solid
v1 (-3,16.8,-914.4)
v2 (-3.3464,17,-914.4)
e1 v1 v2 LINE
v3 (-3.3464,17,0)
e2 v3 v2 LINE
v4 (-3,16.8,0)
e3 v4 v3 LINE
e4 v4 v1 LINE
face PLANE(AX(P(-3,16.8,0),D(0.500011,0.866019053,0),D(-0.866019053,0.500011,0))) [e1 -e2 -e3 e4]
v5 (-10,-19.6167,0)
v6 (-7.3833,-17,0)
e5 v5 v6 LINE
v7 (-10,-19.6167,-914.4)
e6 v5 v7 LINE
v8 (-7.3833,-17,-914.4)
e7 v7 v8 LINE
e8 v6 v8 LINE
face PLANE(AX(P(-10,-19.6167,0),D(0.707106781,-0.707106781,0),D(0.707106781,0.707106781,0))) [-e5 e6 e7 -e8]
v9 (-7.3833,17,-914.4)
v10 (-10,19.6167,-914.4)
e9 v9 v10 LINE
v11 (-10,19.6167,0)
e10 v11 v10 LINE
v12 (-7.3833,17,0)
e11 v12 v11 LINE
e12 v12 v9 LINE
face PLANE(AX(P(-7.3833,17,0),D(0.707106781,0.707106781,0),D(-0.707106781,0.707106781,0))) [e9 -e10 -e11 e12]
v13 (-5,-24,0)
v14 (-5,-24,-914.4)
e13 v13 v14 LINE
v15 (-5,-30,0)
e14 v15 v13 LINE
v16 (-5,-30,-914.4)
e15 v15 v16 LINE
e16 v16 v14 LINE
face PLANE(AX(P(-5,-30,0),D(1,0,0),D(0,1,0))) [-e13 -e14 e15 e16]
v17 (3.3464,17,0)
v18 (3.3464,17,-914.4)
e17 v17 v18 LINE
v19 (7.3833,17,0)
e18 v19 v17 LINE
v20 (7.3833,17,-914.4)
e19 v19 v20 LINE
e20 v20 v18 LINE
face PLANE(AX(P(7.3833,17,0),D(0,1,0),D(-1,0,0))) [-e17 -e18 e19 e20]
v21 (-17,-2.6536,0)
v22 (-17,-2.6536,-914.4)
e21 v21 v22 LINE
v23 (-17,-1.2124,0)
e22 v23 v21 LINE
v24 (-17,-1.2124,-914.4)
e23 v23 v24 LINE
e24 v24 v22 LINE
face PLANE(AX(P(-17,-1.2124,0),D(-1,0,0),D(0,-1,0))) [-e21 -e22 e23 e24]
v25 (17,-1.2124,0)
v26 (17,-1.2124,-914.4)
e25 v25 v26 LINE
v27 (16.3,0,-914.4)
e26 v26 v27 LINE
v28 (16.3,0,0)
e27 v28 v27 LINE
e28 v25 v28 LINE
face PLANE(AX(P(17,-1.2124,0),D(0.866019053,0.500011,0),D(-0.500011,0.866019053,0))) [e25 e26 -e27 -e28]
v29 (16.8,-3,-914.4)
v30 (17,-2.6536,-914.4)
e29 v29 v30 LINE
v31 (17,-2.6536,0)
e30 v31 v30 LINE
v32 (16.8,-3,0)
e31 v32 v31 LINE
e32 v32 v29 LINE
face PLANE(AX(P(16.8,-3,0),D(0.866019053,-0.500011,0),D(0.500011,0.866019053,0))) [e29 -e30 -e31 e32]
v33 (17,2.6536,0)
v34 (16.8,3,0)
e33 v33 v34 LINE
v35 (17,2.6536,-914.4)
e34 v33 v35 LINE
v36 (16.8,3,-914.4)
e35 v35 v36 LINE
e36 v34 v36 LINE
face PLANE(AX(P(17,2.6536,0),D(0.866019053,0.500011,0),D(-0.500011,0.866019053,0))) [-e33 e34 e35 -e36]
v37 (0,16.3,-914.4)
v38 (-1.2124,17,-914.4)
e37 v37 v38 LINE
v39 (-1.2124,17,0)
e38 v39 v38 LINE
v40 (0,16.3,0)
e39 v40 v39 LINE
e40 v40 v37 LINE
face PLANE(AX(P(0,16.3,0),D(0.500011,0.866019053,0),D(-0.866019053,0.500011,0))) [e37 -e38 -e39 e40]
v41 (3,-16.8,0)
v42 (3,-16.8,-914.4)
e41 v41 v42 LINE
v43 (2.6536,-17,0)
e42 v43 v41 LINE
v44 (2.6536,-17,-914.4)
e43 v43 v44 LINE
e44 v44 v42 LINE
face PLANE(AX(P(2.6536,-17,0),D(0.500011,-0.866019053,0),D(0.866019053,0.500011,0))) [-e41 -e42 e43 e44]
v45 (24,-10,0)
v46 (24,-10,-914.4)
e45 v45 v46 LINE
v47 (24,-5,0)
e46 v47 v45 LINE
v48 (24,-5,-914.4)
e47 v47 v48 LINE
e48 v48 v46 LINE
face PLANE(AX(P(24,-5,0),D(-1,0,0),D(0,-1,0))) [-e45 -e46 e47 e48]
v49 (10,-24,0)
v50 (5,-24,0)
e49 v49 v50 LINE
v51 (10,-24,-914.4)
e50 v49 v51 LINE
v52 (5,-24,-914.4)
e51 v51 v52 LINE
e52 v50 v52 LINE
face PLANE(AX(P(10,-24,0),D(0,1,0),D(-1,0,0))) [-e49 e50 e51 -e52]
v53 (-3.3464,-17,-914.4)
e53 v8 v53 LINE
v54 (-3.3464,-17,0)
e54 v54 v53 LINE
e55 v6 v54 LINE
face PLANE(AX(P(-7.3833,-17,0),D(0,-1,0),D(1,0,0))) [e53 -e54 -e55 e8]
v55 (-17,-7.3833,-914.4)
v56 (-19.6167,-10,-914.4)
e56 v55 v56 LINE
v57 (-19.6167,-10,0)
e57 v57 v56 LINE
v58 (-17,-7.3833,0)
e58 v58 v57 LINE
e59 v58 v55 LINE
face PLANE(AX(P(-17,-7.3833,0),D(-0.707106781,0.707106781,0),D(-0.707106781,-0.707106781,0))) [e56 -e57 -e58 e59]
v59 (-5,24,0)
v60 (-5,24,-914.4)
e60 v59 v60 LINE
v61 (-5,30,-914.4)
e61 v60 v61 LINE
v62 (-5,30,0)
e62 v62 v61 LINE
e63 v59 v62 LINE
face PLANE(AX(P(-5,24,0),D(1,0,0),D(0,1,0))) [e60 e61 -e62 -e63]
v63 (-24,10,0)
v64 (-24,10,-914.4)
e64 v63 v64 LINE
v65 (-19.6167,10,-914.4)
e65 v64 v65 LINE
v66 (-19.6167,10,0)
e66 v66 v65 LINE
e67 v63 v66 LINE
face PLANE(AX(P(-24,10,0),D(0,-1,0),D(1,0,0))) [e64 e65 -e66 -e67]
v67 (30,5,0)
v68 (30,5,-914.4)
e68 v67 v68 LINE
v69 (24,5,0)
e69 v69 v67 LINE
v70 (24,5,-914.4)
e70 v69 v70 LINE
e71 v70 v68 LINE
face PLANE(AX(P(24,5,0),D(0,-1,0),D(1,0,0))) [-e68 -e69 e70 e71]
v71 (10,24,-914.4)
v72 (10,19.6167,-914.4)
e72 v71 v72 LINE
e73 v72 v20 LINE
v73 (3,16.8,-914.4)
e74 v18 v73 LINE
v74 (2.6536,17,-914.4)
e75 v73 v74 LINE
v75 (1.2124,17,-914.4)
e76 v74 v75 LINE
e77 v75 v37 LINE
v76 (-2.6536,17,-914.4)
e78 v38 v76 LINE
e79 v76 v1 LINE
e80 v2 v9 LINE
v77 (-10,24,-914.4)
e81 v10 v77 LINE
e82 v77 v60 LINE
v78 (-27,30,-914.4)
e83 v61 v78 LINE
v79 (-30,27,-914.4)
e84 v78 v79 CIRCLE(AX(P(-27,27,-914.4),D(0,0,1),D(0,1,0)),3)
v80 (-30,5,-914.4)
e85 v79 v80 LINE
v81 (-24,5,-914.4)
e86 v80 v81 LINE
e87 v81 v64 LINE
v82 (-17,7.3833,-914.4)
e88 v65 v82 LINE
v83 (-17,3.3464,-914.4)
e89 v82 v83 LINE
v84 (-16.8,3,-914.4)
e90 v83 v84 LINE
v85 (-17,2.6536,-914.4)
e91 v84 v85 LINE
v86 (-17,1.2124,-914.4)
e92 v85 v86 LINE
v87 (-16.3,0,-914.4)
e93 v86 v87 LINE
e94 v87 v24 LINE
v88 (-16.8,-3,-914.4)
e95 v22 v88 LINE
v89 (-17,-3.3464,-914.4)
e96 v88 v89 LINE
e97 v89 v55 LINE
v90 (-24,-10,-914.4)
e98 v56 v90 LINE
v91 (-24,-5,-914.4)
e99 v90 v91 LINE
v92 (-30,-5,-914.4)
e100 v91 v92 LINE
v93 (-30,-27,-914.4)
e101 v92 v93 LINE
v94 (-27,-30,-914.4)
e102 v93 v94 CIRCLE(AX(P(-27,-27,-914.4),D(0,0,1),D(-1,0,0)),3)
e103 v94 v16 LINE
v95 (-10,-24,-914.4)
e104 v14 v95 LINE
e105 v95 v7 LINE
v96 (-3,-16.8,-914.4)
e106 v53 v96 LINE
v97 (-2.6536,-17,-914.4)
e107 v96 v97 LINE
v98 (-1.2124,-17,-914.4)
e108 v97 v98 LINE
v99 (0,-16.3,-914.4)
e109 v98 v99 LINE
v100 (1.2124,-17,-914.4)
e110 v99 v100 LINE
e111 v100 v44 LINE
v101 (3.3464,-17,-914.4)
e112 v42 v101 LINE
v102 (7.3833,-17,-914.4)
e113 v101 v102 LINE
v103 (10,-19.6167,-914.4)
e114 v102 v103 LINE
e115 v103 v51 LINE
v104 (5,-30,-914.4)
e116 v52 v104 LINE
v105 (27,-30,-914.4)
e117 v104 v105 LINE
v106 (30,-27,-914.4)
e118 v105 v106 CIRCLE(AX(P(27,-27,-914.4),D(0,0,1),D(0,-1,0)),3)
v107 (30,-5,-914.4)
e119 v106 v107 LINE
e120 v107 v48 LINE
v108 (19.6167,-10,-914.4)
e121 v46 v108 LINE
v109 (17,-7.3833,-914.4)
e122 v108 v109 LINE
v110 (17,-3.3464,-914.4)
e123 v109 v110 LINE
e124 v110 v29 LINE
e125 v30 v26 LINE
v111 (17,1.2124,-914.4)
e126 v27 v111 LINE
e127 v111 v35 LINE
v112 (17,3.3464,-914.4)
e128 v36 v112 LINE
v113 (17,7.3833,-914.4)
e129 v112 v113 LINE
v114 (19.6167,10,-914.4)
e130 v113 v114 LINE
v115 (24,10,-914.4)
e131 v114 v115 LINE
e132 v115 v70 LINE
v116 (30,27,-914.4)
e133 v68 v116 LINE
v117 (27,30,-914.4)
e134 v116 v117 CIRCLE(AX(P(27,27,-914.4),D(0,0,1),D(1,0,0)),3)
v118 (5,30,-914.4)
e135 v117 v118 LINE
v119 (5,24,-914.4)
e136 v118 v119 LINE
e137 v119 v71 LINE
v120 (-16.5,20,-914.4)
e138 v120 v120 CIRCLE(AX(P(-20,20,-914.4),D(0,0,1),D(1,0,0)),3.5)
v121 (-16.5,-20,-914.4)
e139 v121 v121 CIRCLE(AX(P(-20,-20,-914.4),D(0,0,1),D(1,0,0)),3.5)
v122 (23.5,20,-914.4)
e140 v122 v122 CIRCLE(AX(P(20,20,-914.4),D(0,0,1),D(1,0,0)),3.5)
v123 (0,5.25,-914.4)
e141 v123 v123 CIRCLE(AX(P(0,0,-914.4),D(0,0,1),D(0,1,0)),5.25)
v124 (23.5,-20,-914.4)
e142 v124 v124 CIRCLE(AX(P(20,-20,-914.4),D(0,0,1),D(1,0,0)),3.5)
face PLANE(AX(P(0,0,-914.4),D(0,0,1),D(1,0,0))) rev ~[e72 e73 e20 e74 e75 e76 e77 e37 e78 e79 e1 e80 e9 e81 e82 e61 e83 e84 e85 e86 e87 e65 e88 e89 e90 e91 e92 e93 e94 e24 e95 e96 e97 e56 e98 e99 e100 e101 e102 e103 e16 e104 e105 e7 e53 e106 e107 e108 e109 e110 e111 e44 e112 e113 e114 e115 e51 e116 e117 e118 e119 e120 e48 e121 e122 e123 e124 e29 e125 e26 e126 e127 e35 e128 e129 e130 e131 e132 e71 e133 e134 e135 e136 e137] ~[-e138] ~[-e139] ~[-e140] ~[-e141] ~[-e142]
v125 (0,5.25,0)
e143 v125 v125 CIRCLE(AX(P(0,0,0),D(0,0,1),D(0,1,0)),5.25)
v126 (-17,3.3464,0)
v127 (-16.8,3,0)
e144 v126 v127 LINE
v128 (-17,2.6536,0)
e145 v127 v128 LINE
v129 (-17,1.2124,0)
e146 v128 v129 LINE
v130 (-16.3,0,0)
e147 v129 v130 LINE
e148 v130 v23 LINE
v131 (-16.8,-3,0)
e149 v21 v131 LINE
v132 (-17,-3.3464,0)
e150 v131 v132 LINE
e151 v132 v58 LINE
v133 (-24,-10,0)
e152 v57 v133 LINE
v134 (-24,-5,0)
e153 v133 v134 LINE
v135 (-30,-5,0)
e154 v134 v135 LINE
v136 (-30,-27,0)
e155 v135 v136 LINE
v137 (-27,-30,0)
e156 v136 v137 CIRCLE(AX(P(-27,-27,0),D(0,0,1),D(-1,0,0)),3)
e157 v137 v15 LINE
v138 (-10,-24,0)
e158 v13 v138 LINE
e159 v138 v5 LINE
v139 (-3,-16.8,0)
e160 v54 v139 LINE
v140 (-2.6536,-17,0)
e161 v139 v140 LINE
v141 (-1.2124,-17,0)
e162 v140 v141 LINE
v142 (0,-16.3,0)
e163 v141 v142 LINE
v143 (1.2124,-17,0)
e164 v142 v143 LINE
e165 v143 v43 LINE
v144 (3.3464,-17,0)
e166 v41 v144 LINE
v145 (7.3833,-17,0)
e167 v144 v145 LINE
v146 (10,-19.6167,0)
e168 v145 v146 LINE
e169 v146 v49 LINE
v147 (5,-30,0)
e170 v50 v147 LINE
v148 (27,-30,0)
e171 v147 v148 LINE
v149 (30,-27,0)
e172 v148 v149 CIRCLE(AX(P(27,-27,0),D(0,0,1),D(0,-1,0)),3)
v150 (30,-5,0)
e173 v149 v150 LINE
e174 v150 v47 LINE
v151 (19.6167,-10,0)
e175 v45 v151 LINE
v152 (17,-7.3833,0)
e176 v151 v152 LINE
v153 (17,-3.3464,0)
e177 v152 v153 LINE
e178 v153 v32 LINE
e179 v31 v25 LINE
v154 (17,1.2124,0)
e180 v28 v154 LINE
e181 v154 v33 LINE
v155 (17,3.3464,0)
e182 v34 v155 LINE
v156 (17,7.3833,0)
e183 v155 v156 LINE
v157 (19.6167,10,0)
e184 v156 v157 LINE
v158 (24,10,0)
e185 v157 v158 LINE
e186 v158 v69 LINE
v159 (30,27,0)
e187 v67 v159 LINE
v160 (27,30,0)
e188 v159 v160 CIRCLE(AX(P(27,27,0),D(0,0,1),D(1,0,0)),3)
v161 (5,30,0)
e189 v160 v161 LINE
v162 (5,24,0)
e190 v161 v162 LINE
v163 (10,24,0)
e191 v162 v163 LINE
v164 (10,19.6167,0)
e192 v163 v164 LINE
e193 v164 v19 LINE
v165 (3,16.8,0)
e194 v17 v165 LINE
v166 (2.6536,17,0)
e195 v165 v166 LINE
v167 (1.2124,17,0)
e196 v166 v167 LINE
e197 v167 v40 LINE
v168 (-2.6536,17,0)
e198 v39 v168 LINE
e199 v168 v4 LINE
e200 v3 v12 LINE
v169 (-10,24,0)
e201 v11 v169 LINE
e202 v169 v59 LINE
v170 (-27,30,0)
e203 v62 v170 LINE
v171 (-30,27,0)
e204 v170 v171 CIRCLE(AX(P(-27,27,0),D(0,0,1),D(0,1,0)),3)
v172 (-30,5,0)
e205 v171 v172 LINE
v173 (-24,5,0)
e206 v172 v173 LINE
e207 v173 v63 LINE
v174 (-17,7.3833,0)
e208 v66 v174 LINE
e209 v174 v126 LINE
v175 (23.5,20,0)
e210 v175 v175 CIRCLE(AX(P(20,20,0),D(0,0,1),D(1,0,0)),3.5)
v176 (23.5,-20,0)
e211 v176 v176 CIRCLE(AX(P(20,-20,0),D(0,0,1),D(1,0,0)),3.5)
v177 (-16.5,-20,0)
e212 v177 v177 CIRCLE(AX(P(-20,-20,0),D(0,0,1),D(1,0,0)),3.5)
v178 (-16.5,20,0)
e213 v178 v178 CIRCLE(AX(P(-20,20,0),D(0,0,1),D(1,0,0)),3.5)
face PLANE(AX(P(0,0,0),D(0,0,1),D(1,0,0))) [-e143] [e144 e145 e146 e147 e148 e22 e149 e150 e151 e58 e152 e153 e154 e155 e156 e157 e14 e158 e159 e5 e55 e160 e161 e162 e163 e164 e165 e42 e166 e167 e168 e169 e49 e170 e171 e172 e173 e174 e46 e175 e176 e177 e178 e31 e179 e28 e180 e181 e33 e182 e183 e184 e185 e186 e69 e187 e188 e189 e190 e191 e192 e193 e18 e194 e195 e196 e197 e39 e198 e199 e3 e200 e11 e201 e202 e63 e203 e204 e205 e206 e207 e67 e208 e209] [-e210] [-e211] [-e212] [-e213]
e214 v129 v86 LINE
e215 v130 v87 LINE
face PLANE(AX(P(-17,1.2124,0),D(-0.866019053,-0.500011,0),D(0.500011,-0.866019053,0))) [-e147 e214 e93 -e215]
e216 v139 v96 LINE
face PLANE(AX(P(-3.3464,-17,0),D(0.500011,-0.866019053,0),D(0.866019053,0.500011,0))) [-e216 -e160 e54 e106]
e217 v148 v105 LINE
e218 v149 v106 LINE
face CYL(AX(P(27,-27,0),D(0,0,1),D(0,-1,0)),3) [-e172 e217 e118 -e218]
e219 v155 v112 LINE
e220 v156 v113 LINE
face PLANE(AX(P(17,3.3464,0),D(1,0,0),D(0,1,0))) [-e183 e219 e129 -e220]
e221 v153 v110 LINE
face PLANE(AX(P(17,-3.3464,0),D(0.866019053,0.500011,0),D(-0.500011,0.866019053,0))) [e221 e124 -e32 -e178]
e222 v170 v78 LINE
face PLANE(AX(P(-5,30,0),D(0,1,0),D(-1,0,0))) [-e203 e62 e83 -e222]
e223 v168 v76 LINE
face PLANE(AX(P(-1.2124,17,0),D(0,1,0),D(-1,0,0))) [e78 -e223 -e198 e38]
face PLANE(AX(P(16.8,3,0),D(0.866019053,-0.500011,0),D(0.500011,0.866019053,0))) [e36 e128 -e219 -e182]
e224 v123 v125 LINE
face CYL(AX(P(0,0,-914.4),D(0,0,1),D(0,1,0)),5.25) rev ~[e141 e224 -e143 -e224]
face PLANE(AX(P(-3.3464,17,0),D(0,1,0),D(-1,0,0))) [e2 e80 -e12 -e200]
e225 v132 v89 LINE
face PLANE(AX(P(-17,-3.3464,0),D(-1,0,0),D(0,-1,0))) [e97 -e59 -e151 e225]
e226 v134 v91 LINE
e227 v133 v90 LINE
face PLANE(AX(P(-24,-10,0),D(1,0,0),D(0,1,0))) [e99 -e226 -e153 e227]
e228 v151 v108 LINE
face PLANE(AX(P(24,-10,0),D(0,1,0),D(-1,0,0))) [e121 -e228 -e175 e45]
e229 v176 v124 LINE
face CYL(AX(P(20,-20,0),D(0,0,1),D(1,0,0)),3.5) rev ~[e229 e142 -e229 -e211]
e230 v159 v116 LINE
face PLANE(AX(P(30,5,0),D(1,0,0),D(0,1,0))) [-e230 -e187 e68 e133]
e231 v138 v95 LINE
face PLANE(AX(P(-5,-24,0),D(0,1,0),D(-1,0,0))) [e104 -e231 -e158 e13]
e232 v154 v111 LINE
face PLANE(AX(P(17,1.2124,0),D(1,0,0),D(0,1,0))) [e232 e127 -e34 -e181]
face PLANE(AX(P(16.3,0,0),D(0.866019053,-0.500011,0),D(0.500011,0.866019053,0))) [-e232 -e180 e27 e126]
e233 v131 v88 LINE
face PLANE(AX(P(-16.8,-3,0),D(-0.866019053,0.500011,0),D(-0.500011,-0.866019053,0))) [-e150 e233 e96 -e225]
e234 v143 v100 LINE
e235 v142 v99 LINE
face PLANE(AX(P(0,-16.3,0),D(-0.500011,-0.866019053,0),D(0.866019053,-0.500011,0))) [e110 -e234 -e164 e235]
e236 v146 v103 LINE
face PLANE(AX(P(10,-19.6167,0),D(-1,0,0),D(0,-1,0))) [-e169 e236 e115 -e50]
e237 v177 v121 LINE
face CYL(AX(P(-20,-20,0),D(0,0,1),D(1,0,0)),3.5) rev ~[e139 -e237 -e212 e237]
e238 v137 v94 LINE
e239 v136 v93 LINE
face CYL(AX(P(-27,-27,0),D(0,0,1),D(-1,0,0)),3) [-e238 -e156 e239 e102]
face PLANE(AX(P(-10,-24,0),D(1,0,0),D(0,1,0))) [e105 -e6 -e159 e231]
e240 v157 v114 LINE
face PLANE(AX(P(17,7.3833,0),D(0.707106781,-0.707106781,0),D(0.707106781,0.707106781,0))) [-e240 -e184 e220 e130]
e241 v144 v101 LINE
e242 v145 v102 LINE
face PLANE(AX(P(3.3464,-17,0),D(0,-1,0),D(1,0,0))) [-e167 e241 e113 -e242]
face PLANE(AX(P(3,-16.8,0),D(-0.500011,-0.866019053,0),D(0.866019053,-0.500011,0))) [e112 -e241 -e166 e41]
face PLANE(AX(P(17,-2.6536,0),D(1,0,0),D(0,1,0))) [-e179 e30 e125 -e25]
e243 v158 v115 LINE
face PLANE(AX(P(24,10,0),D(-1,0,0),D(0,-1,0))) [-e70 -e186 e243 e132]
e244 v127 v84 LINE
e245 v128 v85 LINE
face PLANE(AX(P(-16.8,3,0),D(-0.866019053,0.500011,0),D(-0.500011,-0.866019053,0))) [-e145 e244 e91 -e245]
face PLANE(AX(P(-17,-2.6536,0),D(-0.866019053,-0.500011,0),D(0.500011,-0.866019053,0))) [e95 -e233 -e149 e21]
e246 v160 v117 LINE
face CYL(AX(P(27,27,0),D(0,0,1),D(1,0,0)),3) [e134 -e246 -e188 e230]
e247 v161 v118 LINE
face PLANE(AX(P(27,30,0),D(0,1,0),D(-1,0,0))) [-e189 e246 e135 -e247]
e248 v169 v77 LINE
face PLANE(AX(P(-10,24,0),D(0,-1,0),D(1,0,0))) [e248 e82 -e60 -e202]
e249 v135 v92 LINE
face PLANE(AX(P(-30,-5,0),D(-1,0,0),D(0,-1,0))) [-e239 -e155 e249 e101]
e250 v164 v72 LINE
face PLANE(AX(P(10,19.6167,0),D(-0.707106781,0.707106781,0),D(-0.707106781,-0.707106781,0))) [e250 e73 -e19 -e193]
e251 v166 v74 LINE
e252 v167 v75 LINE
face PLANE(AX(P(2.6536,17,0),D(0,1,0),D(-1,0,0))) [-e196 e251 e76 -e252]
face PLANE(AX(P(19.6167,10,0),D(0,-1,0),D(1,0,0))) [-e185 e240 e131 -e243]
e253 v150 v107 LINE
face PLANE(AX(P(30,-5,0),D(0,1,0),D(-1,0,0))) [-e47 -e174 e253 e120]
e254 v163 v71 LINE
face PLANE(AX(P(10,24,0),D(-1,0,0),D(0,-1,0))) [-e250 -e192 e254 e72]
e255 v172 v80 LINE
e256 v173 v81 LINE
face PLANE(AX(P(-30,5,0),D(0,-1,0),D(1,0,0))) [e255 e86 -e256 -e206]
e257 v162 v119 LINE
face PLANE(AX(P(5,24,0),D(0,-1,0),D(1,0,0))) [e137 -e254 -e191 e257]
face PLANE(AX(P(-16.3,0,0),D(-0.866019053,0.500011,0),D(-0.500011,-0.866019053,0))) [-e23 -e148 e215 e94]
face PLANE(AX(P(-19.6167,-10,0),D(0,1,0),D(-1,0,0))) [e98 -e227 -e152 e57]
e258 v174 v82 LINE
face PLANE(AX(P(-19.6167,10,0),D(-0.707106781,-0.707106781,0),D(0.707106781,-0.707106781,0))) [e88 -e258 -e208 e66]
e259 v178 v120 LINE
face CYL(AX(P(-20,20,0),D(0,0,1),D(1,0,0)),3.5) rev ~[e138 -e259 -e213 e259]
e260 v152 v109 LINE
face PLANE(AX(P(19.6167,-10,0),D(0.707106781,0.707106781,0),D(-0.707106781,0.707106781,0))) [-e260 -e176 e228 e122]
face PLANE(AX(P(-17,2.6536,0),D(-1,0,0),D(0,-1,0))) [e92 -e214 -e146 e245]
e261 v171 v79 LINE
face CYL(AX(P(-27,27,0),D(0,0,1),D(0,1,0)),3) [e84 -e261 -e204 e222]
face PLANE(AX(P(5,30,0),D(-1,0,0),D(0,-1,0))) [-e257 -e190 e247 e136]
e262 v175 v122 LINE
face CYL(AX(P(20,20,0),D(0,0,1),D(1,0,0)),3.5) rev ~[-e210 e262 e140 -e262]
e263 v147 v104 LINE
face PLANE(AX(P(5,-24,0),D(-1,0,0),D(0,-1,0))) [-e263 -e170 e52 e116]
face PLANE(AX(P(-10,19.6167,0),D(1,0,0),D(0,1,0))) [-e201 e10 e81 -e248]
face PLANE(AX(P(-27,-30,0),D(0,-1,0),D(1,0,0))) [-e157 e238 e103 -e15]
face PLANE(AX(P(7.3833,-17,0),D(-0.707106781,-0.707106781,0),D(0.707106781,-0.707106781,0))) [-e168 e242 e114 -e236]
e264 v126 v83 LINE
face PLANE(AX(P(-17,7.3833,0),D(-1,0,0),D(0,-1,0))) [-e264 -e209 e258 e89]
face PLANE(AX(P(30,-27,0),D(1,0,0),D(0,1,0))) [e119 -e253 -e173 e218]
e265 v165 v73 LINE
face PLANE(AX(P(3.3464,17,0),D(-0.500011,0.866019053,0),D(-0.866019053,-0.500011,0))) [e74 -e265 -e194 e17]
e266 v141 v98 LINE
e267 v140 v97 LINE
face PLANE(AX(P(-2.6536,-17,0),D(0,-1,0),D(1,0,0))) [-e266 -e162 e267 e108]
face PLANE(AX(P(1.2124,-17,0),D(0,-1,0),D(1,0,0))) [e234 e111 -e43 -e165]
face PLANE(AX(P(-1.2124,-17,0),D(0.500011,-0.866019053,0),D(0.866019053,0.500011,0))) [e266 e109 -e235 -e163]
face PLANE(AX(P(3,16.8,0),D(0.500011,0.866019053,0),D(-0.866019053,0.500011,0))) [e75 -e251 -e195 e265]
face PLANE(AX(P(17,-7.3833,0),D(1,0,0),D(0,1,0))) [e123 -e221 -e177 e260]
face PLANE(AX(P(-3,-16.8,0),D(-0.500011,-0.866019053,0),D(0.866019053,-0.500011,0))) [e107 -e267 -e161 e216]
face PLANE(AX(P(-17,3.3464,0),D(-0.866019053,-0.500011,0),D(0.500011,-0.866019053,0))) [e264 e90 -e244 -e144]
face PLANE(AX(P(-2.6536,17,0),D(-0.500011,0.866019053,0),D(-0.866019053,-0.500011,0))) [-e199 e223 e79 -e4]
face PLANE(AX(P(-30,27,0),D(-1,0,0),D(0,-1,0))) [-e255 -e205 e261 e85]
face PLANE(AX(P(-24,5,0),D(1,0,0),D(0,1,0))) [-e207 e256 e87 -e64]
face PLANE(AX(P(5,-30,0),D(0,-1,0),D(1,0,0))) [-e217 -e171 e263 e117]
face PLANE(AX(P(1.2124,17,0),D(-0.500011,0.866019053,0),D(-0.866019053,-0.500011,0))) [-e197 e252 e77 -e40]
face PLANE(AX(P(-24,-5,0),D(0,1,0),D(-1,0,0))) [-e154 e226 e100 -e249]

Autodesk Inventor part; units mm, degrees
sketch "Sketch_60" plane through (0, 0, 0) normal (0, 0, 1) x (1, 0, 0)
  arc A0 (-30, -27) -> (-27, -30) centre (-27, -27) ccw
  line L0 (-27, -30) -> (-5, -30)
  line L1 (-5, -30) -> (-5, -24)
  line L2 (-5, -24) -> (-10, -24)
  line L3 (-10, -24) -> (-10, -19.6167)
  line L4 (-10, -19.6167) -> (-7.3833, -17)
  line L5 (-7.3833, -17) -> (-3.3464, -17)
  line L6 (-3.3464, -17) -> (-3, -16.8)
  line L7 (-3, -16.8) -> (-2.6536, -17)
  line L8 (-2.6536, -17) -> (-1.2124, -17)
  line L9 (-1.2124, -17) -> (0, -16.3)
  line L10 (0, -16.3) -> (1.2124, -17)
  line L11 (1.2124, -17) -> (2.6536, -17)
  line L12 (2.6536, -17) -> (3, -16.8)
  line L13 (3, -16.8) -> (3.3464, -17)
  line L14 (3.3464, -17) -> (7.3833, -17)
  line L15 (7.3833, -17) -> (10, -19.6167)
  line L16 (10, -19.6167) -> (10, -24)
  line L17 (10, -24) -> (5, -24)
  line L18 (5, -24) -> (5, -30)
  line L19 (5, -30) -> (27, -30)
  arc A1 (27, -30) -> (30, -27) centre (27, -27) ccw
  line L20 (30, -27) -> (30, -5)
  line L21 (30, -5) -> (24, -5)
  line L22 (24, -5) -> (24, -10)
  line L23 (24, -10) -> (19.6167, -10)
  line L24 (19.6167, -10) -> (17, -7.3833)
  line L25 (17, -7.3833) -> (17, -3.3464)
  line L26 (17, -3.3464) -> (16.8, -3)
  line L27 (16.8, -3) -> (17, -2.6536)
  line L28 (17, -2.6536) -> (17, -1.2124)
  line L29 (17, -1.2124) -> (16.3, 0)
  line L30 (16.3, 0) -> (17, 1.2124)
  line L31 (17, 1.2124) -> (17, 2.6536)
  line L32 (17, 2.6536) -> (16.8, 3)
  line L33 (16.8, 3) -> (17, 3.3464)
  line L34 (17, 3.3464) -> (17, 7.3833)
  line L35 (17, 7.3833) -> (19.6167, 10)
  line L36 (19.6167, 10) -> (24, 10)
  line L37 (24, 10) -> (24, 5)
  line L38 (24, 5) -> (30, 5)
  line L39 (30, 5) -> (30, 27)
  arc A2 (30, 27) -> (27, 30) centre (27, 27) ccw
  line L40 (27, 30) -> (5, 30)
  line L41 (5, 30) -> (5, 24)
  line L42 (5, 24) -> (10, 24)
  line L43 (10, 24) -> (10, 19.6167)
  line L44 (10, 19.6167) -> (7.3833, 17)
  line L45 (7.3833, 17) -> (3.3464, 17)
  line L46 (3.3464, 17) -> (3, 16.8)
  line L47 (3, 16.8) -> (2.6536, 17)
  line L48 (2.6536, 17) -> (1.2124, 17)
  line L49 (1.2124, 17) -> (0, 16.3)
  line L50 (0, 16.3) -> (-1.2124, 17)
  line L51 (-1.2124, 17) -> (-2.6536, 17)
  line L52 (-2.6536, 17) -> (-3, 16.8)
  line L53 (-3, 16.8) -> (-3.3464, 17)
  line L54 (-3.3464, 17) -> (-7.3833, 17)
  line L55 (-7.3833, 17) -> (-10, 19.6167)
  line L56 (-10, 19.6167) -> (-10, 24)
  line L57 (-10, 24) -> (-5, 24)
  line L58 (-5, 24) -> (-5, 30)
  line L59 (-5, 30) -> (-27, 30)
  arc A3 (-27, 30) -> (-30, 27) centre (-27, 27) ccw
  line L60 (-30, 27) -> (-30, 5)
  line L61 (-30, 5) -> (-24, 5)
  line L62 (-24, 5) -> (-24, 10)
  line L63 (-24, 10) -> (-19.6167, 10)
  line L64 (-19.6167, 10) -> (-17, 7.3833)
  line L65 (-17, 7.3833) -> (-17, 3.3464)
  line L66 (-17, 3.3464) -> (-16.8, 3)
  line L67 (-16.8, 3) -> (-17, 2.6536)
  line L68 (-17, 2.6536) -> (-17, 1.2124)
  line L69 (-17, 1.2124) -> (-16.3, 0)
  line L70 (-16.3, 0) -> (-17, -1.2124)
  line L71 (-17, -1.2124) -> (-17, -2.6536)
  line L72 (-17, -2.6536) -> (-16.8, -3)
  line L73 (-16.8, -3) -> (-17, -3.3464)
  line L74 (-17, -3.3464) -> (-17, -7.3833)
  line L75 (-17, -7.3833) -> (-19.6167, -10)
  line L76 (-19.6167, -10) -> (-24, -10)
  line L77 (-24, -10) -> (-24, -5)
  line L78 (-24, -5) -> (-30, -5)
  line L79 (-30, -5) -> (-30, -27)
  circle A4 centre (20, 20) radius 3.5
  circle A5 centre (20, -20) radius 3.5
  circle A6 centre (-20, 20) radius 3.5
  circle A7 centre (-20, -20) radius 3.5
extrude "Extrusion1" add sketch "Sketch_60" against normal blind 914.4
sketch "Sketch2" plane through (0, 0, -914.4) normal (0, 0, -1) x (-1, 0, 0)
  point P0 (0, 0)
hole "Hole1" at (0, 0, -914.4) direction (0, 0, 1) diameter 10.5 depth 1000
ref_plane "C1_XY" through (0, 0, 0) normal (0, 0, 1) x (1, 0, 0)
ref_plane "C1_YZ" through (0, 0, 0) normal (1, 0, 0) x (0, 1, 0)
ref_plane "C1_ZX" through (0, 0, 0) normal (0, 1, 0) x (0, 0, 1)
ref_plane "to_frame_cap1_XY" through (0, 0, 0) normal (0, 0, 1) x (1, 0, 0)
ref_plane "to_frame_cap1_YZ" through (0, 0, 0) normal (1, 0, 0) x (0, 1, 0)
ref_plane "to_frame_cap1_ZX" through (0, 0, 0) normal (0, 1, 0) x (0, 0, 1)
ref_plane "to_frame_cap2_XY" through (0, 0, -1000) normal (0, 0, -1) x (1, 0, 0)
ref_plane "to_frame_cap2_YZ" through (0, 0, -1000) normal (1, 0, 0) x (0, -1, 0)
ref_plane "to_frame_cap2_ZX" through (0, 0, -1000) normal (0, -1, 0) x (0, 0, -1)
properties part number "6060-3.5"
